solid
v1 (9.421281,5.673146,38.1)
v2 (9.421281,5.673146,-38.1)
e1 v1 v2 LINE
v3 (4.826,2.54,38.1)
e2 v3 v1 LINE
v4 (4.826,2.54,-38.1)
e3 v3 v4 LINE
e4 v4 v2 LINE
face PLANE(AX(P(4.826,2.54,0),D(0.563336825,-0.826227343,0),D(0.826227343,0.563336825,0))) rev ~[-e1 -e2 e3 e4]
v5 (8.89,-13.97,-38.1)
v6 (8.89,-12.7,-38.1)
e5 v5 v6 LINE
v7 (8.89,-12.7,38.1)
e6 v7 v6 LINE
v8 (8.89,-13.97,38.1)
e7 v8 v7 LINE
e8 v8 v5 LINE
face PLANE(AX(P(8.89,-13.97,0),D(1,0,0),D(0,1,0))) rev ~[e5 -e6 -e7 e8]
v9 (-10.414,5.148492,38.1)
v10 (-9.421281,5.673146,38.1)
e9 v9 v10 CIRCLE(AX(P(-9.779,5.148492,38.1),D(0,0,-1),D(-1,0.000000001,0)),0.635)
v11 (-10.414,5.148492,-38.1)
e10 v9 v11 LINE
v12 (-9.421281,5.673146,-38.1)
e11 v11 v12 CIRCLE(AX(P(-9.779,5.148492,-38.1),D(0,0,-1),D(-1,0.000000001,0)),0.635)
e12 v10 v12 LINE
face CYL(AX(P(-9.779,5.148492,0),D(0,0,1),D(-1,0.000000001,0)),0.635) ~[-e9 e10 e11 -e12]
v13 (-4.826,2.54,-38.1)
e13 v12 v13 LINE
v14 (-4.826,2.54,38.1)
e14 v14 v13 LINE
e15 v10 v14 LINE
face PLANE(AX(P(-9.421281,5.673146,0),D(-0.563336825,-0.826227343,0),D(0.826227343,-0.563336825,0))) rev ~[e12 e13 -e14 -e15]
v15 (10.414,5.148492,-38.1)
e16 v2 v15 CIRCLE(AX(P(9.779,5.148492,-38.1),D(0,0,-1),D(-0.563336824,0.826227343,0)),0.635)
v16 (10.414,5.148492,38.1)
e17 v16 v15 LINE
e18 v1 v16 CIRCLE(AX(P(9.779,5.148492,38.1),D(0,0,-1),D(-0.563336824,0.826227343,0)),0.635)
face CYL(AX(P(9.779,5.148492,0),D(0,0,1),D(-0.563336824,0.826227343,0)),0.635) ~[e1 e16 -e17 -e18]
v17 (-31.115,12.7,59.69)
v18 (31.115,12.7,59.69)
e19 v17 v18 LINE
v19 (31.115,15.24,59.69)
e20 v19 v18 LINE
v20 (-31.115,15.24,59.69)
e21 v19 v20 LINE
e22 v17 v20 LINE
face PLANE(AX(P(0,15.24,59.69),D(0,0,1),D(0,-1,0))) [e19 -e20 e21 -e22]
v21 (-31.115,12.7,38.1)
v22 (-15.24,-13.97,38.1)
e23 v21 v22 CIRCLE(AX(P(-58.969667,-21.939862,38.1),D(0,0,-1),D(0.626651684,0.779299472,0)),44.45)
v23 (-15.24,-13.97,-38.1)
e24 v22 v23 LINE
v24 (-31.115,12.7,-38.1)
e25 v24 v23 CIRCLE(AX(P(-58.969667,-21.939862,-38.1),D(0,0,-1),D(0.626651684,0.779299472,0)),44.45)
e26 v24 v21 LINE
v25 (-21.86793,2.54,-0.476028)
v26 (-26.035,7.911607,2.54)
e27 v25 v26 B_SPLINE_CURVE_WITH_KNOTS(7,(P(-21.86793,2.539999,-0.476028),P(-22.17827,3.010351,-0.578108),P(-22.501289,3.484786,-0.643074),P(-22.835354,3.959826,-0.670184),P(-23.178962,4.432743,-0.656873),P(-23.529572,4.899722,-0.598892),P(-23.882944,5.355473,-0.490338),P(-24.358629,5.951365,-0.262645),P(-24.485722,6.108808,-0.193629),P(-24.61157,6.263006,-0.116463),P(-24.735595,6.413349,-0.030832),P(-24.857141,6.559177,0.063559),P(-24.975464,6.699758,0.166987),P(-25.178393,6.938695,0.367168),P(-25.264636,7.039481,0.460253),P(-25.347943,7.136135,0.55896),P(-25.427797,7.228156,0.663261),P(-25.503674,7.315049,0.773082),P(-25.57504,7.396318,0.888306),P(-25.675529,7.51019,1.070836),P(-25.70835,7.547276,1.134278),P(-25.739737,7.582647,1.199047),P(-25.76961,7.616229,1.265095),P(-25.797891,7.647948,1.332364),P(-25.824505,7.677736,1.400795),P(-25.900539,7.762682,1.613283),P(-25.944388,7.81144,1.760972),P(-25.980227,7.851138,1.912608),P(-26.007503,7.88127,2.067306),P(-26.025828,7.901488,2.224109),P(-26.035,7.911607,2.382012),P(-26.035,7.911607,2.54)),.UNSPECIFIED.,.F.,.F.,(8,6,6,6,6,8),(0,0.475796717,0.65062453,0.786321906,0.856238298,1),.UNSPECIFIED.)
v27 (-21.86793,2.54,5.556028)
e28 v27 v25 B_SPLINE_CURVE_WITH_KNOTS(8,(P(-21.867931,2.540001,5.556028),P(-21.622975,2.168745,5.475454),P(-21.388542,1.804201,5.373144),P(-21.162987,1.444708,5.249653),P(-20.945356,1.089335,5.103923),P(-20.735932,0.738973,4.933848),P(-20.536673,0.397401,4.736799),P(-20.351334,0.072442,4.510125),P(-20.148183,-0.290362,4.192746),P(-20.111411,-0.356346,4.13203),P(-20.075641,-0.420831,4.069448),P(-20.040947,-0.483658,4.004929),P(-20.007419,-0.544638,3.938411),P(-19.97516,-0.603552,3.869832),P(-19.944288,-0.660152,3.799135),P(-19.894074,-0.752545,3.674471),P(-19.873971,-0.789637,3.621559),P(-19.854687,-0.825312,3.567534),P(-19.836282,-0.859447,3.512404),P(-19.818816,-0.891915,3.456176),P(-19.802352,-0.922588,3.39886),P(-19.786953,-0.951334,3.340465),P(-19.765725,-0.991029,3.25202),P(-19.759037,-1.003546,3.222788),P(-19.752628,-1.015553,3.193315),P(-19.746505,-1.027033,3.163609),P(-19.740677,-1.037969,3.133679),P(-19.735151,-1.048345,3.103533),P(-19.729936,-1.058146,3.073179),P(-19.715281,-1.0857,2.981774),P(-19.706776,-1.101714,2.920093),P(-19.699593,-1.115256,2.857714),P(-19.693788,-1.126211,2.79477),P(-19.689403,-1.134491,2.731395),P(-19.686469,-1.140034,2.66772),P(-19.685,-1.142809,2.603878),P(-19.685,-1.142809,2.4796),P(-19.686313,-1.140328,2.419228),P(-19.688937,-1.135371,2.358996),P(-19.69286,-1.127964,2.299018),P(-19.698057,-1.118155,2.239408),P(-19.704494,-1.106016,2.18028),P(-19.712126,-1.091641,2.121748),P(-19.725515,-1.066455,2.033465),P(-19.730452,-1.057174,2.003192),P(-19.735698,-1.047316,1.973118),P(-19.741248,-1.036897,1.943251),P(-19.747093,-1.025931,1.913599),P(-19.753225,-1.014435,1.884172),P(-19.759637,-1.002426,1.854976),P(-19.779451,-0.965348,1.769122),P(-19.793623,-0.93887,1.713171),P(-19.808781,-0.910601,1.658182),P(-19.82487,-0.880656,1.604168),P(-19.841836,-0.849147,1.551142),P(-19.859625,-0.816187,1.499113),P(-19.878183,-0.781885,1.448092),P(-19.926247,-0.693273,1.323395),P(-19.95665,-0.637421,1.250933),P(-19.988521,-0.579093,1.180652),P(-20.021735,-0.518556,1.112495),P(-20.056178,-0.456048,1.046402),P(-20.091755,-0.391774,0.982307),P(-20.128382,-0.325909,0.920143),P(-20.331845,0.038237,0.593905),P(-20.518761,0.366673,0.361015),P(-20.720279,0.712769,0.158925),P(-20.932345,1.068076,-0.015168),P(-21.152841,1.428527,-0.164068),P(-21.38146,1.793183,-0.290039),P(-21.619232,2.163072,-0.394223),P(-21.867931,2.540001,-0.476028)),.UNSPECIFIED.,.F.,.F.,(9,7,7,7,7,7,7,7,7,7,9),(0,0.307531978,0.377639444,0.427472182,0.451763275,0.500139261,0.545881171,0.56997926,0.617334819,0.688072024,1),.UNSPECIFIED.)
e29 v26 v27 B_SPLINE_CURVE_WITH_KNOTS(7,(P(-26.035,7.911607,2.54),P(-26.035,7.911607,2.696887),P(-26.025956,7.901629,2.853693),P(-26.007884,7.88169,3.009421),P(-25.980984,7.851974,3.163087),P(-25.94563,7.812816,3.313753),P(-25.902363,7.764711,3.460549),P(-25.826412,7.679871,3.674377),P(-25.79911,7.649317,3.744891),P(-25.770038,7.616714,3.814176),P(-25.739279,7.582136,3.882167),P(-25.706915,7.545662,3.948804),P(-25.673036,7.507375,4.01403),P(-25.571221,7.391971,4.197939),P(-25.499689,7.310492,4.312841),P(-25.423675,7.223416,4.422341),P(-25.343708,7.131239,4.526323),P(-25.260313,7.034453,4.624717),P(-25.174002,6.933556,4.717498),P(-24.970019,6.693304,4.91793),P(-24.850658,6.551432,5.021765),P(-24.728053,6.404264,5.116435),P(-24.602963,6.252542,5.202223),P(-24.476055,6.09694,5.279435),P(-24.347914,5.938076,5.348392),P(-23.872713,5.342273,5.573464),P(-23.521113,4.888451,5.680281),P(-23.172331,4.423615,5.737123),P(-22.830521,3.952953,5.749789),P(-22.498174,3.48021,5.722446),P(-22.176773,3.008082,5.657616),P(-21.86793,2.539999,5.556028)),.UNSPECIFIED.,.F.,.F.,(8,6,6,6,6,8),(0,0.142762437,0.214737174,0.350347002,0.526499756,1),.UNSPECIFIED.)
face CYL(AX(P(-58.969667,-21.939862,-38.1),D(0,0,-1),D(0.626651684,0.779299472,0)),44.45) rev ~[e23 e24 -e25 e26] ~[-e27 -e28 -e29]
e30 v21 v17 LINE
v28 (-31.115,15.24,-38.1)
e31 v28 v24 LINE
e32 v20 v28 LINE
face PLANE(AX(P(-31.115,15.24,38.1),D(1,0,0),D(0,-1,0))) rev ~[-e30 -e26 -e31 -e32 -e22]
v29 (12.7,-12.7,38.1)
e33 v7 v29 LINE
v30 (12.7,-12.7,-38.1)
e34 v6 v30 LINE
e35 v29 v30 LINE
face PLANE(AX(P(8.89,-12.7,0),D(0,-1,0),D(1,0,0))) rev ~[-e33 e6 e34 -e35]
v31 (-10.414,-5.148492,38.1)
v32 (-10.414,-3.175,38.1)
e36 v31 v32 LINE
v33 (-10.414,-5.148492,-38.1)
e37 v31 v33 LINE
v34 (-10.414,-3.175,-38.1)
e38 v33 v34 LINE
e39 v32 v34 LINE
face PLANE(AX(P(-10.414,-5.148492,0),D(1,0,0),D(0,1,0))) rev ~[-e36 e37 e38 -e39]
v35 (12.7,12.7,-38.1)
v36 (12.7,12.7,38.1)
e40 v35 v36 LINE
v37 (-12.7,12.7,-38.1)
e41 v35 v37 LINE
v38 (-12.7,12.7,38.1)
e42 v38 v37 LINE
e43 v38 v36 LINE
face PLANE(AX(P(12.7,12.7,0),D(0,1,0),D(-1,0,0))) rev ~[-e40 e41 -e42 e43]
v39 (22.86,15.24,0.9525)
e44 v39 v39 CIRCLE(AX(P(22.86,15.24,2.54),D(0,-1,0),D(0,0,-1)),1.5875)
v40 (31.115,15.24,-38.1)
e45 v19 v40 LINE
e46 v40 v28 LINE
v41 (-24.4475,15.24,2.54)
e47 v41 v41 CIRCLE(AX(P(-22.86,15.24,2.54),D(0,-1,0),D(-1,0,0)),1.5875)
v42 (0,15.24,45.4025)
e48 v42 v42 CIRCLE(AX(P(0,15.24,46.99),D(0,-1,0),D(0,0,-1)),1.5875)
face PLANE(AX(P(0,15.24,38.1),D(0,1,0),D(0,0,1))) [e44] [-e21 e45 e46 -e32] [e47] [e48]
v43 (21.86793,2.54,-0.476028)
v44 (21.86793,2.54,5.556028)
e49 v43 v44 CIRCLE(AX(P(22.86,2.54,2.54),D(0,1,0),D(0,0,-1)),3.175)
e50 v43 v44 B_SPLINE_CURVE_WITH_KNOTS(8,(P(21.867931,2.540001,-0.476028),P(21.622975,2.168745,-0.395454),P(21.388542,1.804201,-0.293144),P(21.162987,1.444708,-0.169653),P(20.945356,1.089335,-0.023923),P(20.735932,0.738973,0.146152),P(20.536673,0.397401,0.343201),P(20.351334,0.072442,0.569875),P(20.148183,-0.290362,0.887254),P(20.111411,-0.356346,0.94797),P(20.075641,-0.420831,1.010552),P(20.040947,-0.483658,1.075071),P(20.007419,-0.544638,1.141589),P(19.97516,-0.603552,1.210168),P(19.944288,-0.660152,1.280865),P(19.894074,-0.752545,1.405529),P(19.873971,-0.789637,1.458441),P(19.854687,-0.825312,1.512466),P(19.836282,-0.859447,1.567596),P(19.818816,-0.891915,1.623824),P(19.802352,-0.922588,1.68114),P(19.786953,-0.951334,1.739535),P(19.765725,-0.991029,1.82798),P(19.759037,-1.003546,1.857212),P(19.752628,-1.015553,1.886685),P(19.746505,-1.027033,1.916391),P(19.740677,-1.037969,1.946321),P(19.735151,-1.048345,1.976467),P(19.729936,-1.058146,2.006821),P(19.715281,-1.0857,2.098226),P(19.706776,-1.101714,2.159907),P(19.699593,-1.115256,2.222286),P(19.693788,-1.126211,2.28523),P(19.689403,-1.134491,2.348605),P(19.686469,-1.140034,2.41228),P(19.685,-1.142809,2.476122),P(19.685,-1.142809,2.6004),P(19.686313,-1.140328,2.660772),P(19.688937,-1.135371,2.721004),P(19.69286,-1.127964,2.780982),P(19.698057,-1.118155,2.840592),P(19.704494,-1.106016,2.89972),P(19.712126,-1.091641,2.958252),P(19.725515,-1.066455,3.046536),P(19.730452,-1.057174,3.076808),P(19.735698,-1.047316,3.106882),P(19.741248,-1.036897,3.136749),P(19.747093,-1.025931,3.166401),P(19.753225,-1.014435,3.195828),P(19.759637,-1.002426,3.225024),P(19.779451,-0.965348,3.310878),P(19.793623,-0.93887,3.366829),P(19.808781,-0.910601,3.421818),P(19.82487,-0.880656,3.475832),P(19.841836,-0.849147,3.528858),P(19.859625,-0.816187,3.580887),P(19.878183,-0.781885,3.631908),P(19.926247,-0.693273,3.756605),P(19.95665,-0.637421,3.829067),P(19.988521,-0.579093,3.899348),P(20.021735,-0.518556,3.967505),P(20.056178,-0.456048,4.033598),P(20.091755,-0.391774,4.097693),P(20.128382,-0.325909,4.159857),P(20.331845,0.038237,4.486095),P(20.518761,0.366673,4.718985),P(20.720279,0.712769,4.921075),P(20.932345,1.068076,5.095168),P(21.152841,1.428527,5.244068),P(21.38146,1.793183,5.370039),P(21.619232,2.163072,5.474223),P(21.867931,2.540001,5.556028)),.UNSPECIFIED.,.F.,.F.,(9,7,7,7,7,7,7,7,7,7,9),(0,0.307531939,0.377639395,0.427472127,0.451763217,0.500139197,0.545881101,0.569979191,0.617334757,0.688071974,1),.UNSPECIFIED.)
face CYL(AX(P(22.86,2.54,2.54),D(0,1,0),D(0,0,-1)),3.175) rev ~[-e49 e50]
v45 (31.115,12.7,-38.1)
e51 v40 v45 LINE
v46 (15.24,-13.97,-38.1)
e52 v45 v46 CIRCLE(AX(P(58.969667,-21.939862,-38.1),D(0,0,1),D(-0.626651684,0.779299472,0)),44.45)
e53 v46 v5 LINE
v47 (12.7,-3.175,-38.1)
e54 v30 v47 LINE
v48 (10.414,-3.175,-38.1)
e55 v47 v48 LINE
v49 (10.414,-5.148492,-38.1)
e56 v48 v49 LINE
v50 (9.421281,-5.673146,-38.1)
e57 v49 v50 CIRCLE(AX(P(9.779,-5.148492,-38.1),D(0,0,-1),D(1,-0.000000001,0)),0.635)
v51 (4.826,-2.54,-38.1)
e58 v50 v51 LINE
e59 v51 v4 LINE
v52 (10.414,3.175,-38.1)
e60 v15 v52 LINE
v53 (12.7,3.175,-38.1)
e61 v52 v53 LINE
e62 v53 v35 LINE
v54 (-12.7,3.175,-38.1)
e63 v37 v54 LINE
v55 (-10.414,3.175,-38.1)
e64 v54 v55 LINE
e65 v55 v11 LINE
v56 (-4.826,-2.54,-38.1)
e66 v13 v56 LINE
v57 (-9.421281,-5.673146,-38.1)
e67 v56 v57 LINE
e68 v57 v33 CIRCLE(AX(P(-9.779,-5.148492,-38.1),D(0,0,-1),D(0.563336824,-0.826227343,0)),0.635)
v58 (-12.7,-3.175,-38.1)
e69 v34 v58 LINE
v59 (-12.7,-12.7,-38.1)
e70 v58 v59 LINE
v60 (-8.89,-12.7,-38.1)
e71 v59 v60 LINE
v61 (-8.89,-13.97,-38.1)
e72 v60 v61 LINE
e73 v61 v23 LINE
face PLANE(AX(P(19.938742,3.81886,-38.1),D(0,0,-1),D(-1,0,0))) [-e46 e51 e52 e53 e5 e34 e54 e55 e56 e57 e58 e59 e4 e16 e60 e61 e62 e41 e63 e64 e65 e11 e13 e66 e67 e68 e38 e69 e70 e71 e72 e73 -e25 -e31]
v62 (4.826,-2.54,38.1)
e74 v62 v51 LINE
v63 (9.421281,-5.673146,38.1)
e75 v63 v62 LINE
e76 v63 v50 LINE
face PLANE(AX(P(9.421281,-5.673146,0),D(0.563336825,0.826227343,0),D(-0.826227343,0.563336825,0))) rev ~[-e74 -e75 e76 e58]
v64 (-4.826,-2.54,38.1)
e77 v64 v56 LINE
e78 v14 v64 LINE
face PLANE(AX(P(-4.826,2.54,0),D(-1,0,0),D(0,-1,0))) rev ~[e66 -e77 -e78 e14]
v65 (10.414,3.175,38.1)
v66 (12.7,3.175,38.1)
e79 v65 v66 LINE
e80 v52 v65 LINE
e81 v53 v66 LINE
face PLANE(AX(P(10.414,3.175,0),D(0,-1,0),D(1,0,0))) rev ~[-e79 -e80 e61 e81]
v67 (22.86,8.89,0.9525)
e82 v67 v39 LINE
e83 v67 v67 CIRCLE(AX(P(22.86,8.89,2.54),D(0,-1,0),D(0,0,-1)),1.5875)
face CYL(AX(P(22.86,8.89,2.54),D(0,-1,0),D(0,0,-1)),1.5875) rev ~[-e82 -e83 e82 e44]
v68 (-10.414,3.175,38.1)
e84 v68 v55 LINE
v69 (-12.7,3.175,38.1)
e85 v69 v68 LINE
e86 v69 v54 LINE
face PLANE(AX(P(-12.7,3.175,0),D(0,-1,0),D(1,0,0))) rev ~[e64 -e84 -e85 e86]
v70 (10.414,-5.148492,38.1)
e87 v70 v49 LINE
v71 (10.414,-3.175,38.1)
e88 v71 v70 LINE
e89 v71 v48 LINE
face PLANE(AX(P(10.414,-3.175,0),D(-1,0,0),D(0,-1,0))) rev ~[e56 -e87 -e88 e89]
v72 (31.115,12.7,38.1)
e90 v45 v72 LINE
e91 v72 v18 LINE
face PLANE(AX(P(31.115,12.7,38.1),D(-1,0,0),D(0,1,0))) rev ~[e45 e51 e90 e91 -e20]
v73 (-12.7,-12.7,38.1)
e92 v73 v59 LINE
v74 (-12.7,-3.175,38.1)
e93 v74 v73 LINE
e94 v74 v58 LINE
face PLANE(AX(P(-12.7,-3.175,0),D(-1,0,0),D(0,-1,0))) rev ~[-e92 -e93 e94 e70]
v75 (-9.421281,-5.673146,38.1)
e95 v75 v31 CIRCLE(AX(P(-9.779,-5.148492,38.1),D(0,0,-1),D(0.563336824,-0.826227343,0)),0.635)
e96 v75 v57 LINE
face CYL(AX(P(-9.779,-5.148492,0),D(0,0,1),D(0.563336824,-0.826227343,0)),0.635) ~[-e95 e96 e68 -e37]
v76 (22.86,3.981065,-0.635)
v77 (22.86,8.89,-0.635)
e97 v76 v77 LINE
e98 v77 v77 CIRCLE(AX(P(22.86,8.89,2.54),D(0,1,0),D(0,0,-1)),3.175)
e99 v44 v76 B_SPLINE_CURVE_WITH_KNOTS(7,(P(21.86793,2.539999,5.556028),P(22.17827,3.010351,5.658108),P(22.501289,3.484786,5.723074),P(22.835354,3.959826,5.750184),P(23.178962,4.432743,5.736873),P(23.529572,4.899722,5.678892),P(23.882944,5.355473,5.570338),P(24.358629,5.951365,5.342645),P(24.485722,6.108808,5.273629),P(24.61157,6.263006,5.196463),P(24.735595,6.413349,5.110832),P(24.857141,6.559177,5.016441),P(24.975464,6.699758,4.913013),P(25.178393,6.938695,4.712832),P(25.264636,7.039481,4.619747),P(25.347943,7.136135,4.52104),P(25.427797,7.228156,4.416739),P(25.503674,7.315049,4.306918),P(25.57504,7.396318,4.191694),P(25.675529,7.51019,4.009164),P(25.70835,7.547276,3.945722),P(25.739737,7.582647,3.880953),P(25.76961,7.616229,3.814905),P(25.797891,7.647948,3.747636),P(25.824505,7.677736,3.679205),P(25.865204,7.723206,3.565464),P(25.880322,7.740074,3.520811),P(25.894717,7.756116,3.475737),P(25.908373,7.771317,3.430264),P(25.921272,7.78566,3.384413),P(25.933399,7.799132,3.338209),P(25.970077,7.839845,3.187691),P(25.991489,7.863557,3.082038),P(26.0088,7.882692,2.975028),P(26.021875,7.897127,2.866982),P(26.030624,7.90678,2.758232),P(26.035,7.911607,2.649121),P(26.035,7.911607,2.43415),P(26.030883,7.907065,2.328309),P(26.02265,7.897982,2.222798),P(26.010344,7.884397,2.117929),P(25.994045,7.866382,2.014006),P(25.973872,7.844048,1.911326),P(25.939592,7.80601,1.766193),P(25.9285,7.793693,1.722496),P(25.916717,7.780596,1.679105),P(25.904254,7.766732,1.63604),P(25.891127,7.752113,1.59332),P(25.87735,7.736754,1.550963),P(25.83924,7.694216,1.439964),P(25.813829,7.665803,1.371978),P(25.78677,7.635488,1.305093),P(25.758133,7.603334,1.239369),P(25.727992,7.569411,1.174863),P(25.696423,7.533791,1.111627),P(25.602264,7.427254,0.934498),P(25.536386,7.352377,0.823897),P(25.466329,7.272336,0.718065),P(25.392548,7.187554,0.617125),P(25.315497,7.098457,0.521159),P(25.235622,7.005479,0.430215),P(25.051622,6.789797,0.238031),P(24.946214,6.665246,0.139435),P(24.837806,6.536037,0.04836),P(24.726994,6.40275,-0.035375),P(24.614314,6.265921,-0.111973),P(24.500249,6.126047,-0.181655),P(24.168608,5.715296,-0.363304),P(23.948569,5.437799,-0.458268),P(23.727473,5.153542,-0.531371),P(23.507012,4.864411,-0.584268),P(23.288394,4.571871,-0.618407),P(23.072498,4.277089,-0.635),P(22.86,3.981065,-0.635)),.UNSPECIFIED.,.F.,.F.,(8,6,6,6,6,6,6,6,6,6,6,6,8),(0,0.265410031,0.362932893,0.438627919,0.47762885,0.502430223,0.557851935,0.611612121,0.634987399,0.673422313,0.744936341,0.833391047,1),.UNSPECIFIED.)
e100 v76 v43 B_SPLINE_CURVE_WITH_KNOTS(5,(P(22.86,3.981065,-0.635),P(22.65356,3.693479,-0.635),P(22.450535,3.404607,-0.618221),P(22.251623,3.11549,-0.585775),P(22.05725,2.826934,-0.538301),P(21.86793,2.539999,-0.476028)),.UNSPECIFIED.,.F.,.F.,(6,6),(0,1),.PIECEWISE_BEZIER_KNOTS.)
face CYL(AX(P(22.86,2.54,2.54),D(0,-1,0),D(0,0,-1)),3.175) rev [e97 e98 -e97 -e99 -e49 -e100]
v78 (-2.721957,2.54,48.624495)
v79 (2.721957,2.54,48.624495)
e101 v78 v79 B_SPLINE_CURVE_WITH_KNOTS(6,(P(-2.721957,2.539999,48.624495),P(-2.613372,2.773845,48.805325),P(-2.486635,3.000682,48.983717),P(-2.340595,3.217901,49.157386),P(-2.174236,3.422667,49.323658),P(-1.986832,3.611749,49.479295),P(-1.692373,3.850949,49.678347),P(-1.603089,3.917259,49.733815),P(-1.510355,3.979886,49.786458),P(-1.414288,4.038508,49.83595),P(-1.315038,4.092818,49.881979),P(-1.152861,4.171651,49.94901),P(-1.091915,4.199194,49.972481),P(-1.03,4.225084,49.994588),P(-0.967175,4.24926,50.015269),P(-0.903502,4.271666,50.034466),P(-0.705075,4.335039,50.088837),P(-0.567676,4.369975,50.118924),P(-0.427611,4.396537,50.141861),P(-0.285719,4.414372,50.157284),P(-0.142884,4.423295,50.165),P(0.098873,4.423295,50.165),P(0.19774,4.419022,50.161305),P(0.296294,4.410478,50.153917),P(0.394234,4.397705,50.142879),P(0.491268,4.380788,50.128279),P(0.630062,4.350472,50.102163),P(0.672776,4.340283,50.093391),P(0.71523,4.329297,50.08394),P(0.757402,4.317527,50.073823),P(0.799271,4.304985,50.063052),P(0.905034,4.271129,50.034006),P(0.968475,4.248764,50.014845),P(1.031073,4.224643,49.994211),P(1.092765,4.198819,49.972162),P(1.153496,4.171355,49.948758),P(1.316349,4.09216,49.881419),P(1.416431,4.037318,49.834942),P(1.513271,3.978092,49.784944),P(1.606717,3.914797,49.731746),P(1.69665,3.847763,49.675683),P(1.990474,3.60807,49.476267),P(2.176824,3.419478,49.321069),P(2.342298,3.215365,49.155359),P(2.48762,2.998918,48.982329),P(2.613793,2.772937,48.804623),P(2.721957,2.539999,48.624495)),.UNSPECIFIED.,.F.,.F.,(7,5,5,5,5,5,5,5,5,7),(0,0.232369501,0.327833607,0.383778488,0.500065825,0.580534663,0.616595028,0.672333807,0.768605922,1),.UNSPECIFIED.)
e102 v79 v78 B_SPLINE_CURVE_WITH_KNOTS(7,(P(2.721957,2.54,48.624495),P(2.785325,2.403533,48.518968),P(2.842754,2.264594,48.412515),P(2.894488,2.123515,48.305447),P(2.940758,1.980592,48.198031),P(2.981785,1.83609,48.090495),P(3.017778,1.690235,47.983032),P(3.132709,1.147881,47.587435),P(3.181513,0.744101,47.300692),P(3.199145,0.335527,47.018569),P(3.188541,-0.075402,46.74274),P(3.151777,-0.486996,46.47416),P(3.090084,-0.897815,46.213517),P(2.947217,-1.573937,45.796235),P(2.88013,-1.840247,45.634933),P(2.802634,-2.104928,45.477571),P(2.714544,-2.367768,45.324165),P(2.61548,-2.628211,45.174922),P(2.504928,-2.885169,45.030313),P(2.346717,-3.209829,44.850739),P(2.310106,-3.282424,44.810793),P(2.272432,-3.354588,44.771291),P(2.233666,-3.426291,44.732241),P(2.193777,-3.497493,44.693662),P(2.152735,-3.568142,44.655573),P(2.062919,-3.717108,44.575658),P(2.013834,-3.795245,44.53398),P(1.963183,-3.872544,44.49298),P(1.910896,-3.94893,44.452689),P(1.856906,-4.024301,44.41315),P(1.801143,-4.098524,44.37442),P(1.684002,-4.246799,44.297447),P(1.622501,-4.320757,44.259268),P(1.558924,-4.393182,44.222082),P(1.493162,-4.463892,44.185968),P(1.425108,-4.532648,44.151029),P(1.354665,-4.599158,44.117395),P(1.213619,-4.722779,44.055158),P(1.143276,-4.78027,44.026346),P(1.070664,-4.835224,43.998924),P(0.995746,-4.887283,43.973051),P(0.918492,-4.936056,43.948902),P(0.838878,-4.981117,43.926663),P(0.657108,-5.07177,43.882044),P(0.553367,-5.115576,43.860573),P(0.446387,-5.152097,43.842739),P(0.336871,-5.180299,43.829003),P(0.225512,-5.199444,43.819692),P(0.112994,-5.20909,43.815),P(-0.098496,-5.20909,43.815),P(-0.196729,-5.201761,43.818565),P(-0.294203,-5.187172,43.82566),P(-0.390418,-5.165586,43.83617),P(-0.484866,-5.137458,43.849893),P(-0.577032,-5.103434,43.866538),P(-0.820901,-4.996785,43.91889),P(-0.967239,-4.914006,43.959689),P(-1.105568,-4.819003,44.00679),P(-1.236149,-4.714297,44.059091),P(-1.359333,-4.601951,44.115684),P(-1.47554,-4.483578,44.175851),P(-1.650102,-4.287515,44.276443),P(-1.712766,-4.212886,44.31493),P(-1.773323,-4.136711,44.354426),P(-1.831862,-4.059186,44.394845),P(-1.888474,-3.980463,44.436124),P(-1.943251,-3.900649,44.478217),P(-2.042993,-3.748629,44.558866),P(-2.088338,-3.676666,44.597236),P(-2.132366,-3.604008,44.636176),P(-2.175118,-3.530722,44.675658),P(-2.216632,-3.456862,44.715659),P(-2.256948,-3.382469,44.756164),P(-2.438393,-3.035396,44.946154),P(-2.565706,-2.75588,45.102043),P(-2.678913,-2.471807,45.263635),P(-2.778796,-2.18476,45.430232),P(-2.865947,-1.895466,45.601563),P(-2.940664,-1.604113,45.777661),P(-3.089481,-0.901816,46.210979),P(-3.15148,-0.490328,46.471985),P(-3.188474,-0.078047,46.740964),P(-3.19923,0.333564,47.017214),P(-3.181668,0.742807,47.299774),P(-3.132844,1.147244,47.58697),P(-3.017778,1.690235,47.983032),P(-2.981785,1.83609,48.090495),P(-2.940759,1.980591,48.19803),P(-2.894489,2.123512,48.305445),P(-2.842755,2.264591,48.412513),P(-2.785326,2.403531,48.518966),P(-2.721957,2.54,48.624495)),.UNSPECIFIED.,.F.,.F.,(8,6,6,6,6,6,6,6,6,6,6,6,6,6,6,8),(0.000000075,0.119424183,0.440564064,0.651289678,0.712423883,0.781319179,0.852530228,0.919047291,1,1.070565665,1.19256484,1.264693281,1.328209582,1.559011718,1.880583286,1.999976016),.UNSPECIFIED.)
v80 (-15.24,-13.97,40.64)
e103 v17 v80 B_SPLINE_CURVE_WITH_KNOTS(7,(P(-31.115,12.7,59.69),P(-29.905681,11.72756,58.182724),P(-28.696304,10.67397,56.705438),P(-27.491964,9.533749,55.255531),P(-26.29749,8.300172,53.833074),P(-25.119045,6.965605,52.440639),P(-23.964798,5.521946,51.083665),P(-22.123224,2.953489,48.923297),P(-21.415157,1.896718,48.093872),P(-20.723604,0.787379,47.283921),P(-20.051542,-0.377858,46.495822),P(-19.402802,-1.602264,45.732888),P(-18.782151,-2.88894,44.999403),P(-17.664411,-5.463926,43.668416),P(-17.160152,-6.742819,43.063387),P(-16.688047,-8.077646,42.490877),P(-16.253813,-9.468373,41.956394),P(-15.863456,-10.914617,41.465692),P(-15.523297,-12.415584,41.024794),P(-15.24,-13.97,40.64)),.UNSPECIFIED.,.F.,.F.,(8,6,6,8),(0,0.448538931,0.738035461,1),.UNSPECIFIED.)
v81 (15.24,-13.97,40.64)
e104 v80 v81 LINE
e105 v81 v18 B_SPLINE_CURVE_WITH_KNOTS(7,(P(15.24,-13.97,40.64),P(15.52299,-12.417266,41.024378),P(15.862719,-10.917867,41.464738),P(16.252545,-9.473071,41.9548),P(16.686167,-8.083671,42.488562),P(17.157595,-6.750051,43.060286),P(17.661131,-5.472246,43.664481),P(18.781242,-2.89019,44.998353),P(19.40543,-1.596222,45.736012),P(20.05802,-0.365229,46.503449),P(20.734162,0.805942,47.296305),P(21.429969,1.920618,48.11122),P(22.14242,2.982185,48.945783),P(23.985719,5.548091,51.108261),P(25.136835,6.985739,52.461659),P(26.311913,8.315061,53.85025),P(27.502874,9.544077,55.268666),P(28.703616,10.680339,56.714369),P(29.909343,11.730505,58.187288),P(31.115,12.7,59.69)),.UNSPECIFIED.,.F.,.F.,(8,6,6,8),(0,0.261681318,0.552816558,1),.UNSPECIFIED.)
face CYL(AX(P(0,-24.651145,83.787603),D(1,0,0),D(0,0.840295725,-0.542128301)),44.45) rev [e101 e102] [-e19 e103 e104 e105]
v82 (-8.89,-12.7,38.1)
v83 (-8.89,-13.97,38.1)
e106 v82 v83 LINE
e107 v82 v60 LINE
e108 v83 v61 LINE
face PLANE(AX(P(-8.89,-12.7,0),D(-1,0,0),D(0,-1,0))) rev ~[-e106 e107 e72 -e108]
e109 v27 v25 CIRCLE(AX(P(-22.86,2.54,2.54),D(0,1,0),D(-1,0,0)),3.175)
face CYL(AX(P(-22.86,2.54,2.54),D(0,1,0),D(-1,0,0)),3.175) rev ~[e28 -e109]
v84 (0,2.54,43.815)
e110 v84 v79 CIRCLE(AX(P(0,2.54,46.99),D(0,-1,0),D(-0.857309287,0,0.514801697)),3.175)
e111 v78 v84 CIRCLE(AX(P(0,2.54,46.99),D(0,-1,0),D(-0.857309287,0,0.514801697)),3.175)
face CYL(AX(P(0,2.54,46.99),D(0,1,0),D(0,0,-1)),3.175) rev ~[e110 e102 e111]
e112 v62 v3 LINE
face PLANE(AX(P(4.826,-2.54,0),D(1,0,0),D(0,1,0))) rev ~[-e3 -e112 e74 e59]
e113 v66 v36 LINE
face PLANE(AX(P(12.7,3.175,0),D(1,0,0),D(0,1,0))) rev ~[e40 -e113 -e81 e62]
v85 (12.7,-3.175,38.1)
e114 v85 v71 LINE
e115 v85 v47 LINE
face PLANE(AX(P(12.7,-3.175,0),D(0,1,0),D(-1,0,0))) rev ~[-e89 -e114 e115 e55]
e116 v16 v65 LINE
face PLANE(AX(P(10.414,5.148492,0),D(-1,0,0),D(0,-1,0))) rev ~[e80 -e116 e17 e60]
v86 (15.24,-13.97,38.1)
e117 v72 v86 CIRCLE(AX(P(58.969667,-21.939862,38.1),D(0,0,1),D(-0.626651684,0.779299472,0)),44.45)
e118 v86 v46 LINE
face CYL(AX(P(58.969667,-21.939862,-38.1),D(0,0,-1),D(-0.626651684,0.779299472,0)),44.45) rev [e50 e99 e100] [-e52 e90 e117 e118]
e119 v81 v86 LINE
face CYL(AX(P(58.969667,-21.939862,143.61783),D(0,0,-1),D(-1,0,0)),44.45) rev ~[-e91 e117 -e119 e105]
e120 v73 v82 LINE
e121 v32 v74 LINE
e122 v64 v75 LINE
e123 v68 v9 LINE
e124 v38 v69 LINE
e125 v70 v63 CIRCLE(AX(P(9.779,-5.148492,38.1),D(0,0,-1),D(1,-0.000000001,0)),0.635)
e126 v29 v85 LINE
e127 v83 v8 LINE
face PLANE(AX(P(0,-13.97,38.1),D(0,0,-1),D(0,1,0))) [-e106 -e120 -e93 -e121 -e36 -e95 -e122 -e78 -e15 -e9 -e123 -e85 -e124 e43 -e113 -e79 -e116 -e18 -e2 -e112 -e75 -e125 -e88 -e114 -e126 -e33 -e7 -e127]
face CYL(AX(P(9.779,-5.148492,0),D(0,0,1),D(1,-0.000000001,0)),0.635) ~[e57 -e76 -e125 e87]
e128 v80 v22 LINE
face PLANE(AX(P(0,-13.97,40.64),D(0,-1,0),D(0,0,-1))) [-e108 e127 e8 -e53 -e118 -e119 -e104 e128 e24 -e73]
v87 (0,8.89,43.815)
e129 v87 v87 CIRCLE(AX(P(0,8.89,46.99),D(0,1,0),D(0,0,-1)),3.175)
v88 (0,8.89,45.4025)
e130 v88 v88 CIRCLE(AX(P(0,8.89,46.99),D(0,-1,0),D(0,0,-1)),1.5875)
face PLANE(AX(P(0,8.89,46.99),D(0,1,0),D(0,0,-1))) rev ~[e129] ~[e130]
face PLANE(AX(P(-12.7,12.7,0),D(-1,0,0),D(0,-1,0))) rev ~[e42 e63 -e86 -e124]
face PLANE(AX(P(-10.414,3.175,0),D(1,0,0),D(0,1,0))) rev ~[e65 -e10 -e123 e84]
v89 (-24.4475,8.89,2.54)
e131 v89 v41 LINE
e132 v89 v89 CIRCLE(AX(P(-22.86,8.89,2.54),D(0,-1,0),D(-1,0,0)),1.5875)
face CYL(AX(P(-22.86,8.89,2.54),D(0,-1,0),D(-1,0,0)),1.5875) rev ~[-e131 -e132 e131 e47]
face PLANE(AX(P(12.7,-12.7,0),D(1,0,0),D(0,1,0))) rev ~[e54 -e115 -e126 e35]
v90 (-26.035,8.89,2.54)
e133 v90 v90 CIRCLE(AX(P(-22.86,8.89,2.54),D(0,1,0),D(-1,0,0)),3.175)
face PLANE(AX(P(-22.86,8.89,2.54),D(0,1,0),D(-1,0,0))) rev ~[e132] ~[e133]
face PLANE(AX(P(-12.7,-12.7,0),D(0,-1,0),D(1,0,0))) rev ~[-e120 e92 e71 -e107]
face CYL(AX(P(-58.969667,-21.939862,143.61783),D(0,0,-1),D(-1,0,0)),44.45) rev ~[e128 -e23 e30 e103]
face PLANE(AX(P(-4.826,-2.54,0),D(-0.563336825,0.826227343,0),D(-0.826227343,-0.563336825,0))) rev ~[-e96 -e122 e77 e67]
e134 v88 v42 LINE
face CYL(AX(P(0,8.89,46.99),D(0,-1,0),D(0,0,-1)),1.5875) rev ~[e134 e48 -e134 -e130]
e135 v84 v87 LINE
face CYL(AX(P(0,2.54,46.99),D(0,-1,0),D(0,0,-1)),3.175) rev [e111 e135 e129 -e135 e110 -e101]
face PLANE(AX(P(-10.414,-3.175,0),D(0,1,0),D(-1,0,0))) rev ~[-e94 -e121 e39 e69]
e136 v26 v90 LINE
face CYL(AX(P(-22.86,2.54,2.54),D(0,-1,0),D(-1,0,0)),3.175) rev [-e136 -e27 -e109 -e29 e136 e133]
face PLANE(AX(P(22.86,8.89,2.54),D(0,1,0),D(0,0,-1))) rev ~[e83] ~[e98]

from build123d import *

# Parameters (mm, degrees)
BOSS_EXTRUDE1_DEPTH                  = 38.1
BOSS_EXTRUDE3_DEPTH                  = 76.2
BOSS_EXTRUDE2_REACH                  = 53.498
BOSS_EXTRUDE2_END_RADIUS             = 44.45
BOSS_EXTRUDE2_DIRECTION_2_REACH      = 53.498
BOSS_EXTRUDE2_DIRECTION_2_END_RADIUS = 44.45
CUT_EXTRUDE3_DEPTH                   = 86.067352916
CUT_EXTRUDE1_REACH                   = 71.308
SKETCH4_R                            = 3.175
CUT_EXTRUDE1_DIRECTION_2_DEPTH       = 6.35
CUT_EXTRUDE2_REACH                   = 73.089
SKETCH5_R                            = 1.5875
LPATTERN1_COUNT                      = 2
LPATTERN1_PITCH                      = 44.45
LPATTERN1_COUNT_DIR2                 = 2
LPATTERN1_PITCH_DIR2                 = 22.86
MIRROR1_COPY_1_REACH                 = 71.308
MIRROR1_COPY_1_SKETCH_R              = 3.175
MIRROR1_COPY_2_SKETCH_R              = 3.175
MIRROR1_COPY_2_DEPTH                 = 6.35
MIRROR1_COPY_3_REACH                 = 73.089
MIRROR1_COPY_3_SKETCH_R              = 1.5875


with BuildPart() as part:
    # Sketch1 → Boss-Extrude1 (new, symmetric)
    with BuildSketch(Plane.XY):
        with BuildLine():
            Line((12.7, 12.7), (-12.7, 12.7))
            Line((-12.7, 12.7), (-12.7, 3.175))
            Line((-12.7, 3.175), (-10.414, 3.175))
            Line((-10.414, 3.175), (-10.414, 5.148491853))
            ThreePointArc((-10.414, 5.148491853), (-10.075709883, 5.709908138), (-9.421281116, 5.673146216))
            Line((-9.421281116, 5.673146216), (-4.826, 2.54))
            Line((-4.826, 2.54), (-4.826, -2.54))
            Line((-4.826, -2.54), (-9.421281116, -5.673146216))
            ThreePointArc((-9.421281116, -5.673146216), (-10.075709883, -5.709908138), (-10.414, -5.148491853))
            Line((-10.414, -5.148491853), (-10.414, -3.175))
            Line((-10.414, -3.175), (-12.7, -3.175))
            Line((-12.7, -3.175), (-12.7, -12.7))
            Line((-12.7, -12.7), (-8.89, -12.7))
            Line((-8.89, -12.7), (-8.89, -13.97))
            Line((-8.89, -13.97), (-15.24, -13.97))
            Line((-15.24, -13.97), (-15.24, 15.24))
            Line((-15.24, 15.24), (15.24, 15.24))
            Line((15.24, 15.24), (15.24, -13.97))
            Line((15.24, -13.97), (8.89, -13.97))
            Line((8.89, -13.97), (8.89, -12.7))
            Line((8.89, -12.7), (12.7, -12.7))
            Line((12.7, -12.7), (12.7, -3.175))
            Line((12.7, -3.175), (10.414, -3.175))
            Line((10.414, -3.175), (10.414, -5.148491853))
            ThreePointArc((10.414, -5.148491853), (10.075709883, -5.709908138), (9.421281116, -5.673146216))
            Line((9.421281116, -5.673146216), (4.826, -2.54))
            Line((4.826, -2.54), (4.826, 2.54))
            Line((4.826, 2.54), (9.421281116, 5.673146216))
            ThreePointArc((9.421281116, 5.673146216), (10.075709883, 5.709908138), (10.414, 5.148491853))
            Line((10.414, 5.148491853), (10.414, 3.175))
            Line((10.414, 3.175), (12.7, 3.175))
            Line((12.7, 3.175), (12.7, 12.7))
        make_face()
    extrude(amount=BOSS_EXTRUDE1_DEPTH, both=True)

    # Sketch6 → Boss-Extrude3 (add)
    with BuildSketch(Plane(origin=(0, 0, -38.1), x_dir=(-1, 0, 0), z_dir=(0, 0, -1))):
        with BuildLine():
            Line((-15.24, 15.24), (-31.115, 15.24))
            Line((-31.115, 15.24), (-31.115, 12.7))
            ThreePointArc((-31.115, 12.7), (-20.774098647, 0.795596044), (-15.24, -13.97))
            Line((-15.24, -13.97), (-15.24, 15.24))
        make_face()
        with BuildLine():
            Line((15.24, 15.24), (31.115, 15.24))
            Line((31.115, 15.24), (31.115, 12.7))
            ThreePointArc((31.115, 12.7), (20.774098647, 0.795596044), (15.24, -13.97))
            Line((15.24, -13.97), (15.24, 15.24))
        make_face()
    extrude(amount=-BOSS_EXTRUDE3_DEPTH)

    # Boss-Extrude2: up to this cylinder (the profile starts outside it)
    boss_extrude2_end = Plane(origin=(58.969667359, -21.939861523, 45.16983), z_dir=(0, 0, -1)) * Cylinder(BOSS_EXTRUDE2_END_RADIUS, 196.896, mode=Mode.PRIVATE)
    # Sketch3 → Boss-Extrude2 (add, up to the surface)
    with BuildSketch(Plane(origin=(0, 0, 0), x_dir=(0, 0, -1), z_dir=(1, 0, 0)), mode=Mode.PRIVATE) as boss_extrude2_sk1:
        with BuildLine():
            Line((-59.69, 15.24), (-59.69, 12.7))
            ThreePointArc((-59.69, 12.7), (-47.617150174, 1.184892733), (-40.64, -13.97))
            Line((-40.64, -13.97), (-38.1, -13.97))
            Line((-38.1, -13.97), (-38.1, 15.24))
            Line((-38.1, 15.24), (-59.69, 15.24))
        make_face()
    boss_extrude2_tool1 = extrude(boss_extrude2_sk1.sketch, amount=BOSS_EXTRUDE2_REACH, mode=Mode.PRIVATE) - boss_extrude2_end
    add(boss_extrude2_tool1.solids().sort_by_distance((0, 5.474065, 45.16983))[0])

    # Boss-Extrude2 direction 2: up to this cylinder (the profile starts outside it)
    boss_extrude2_direction_2_end = Plane(origin=(-58.969667359, -21.939861523, 45.16983), z_dir=(0, 0, -1)) * Cylinder(BOSS_EXTRUDE2_DIRECTION_2_END_RADIUS, 196.896, mode=Mode.PRIVATE)
    # Sketch3 → Boss-Extrude2 direction 2 (add, up to the surface)
    with BuildSketch(Plane(origin=(0, 0, 0), x_dir=(0, 0, -1), z_dir=(1, 0, 0)), mode=Mode.PRIVATE) as boss_extrude2_direction_2_sk1:
        with BuildLine():
            Line((-59.69, 15.24), (-59.69, 12.7))
            ThreePointArc((-59.69, 12.7), (-47.617150174, 1.184892733), (-40.64, -13.97))
            Line((-40.64, -13.97), (-38.1, -13.97))
            Line((-38.1, -13.97), (-38.1, 15.24))
            Line((-38.1, 15.24), (-59.69, 15.24))
        make_face()
    boss_extrude2_direction_2_tool1 = extrude(boss_extrude2_direction_2_sk1.sketch, amount=-BOSS_EXTRUDE2_DIRECTION_2_REACH, mode=Mode.PRIVATE) - boss_extrude2_direction_2_end
    add(boss_extrude2_direction_2_tool1.solids().sort_by_distance((0, 5.474065, 45.16983))[0])

    # Sketch7 → Cut-Extrude3 (cut, through all)
    with BuildSketch(Plane(origin=(0, 0, 38.1), x_dir=(-1, 0, 0), z_dir=(0, 0, -1))):
        with BuildLine():
            Line((34.608624747, 15.24), (31.115, 15.24))
            Line((31.115, 15.24), (31.115, 12.7))
            ThreePointArc((31.115, 12.7), (32.830941454, 14.012461185), (34.608624747, 15.24))
        make_face()
        with BuildLine():
            Line((-31.115, 12.7), (-31.115, 15.24))
            Line((-31.115, 15.24), (-34.608624747, 15.24))
            ThreePointArc((-34.608624747, 15.24), (-32.830941454, 14.012461185), (-31.115, 12.7))
        make_face()
    extrude(amount=-CUT_EXTRUDE3_DEPTH, mode=Mode.SUBTRACT)

    # Sketch4 → Cut-Extrude1 (cut, up to next)
    with BuildSketch(Plane(origin=(0, 2.54, 0), x_dir=(1, 0, 0), z_dir=(0, 1, 0)), mode=Mode.PRIVATE) as cut_extrude1_sk1:
        with Locations(Location((0, -46.99, 0), (0, 0, 90))):
            Circle(SKETCH4_R)
    cut_extrude1_tool1 = extrude(cut_extrude1_sk1.sketch, amount=-CUT_EXTRUDE1_REACH, mode=Mode.PRIVATE) & part.part
    cut_extrude1 = cut_extrude1_tool1.solids().sort_by_distance((0, 2.54, 46.99))[0]
    add(cut_extrude1, mode=Mode.SUBTRACT)

    # Sketch4 → Cut-Extrude1 direction 2 (cut)
    with BuildSketch(Plane(origin=(0, 2.54, 0), x_dir=(1, 0, 0), z_dir=(0, 1, 0))):
        with Locations(Location((0, -46.99, 0), (0, 0, 90))):
            Circle(SKETCH4_R)
    cut_extrude1_direction_2 = extrude(amount=CUT_EXTRUDE1_DIRECTION_2_DEPTH, mode=Mode.SUBTRACT)

    # Sketch5 → Cut-Extrude2 (cut, up to next)
    with BuildSketch(Plane.XZ.offset(-8.89), mode=Mode.PRIVATE) as cut_extrude2_sk1:
        with Locations(Location((0, 46.99, 0), (0, 0, 270))):
            Circle(SKETCH5_R)
    cut_extrude2_tool1 = extrude(cut_extrude2_sk1.sketch, amount=-CUT_EXTRUDE2_REACH, mode=Mode.PRIVATE) & part.part
    cut_extrude2 = cut_extrude2_tool1.solids().sort_by_distance((0, 8.89, 46.99))[0]
    add(cut_extrude2, mode=Mode.SUBTRACT)

    # LPattern1: Cut-Extrude1, Cut-Extrude1 direction 2, Cut-Extrude2; each copy of Cut-Extrude1, Cut-Extrude2 runs up to whatever stops it at its own place
    lpattern1_before = part.part  # the part as the pattern finds it: every copy runs up to it
    lpattern1_cut_extrude1_long = extrude(cut_extrude1_sk1.sketch, amount=-CUT_EXTRUDE1_REACH, mode=Mode.PRIVATE)
    lpattern1_cut_extrude1_tool1 = lpattern1_cut_extrude1_long.moved(Location(Vector(0, 0, -1) * (1 * LPATTERN1_PITCH) + Vector(1, 0, 0) * (1 * LPATTERN1_PITCH_DIR2))) & lpattern1_before
    add(lpattern1_cut_extrude1_tool1.solids().sort_by_distance((22.86, 2.54, 2.54))[0], mode=Mode.SUBTRACT)
    add(cut_extrude1_direction_2.moved(Location(Vector(0, 0, -1) * (1 * LPATTERN1_PITCH) + Vector(1, 0, 0) * (1 * LPATTERN1_PITCH_DIR2))), mode=Mode.SUBTRACT)
    lpattern1_cut_extrude2_long = extrude(cut_extrude2_sk1.sketch, amount=-CUT_EXTRUDE2_REACH, mode=Mode.PRIVATE)
    lpattern1_cut_extrude2_tool1 = lpattern1_cut_extrude2_long.moved(Location(Vector(0, 0, -1) * (1 * LPATTERN1_PITCH) + Vector(1, 0, 0) * (1 * LPATTERN1_PITCH_DIR2))) & lpattern1_before
    add(lpattern1_cut_extrude2_tool1.solids().sort_by_distance((22.86, 8.89, 2.54))[0], mode=Mode.SUBTRACT)

    # Mirror1 copy 1 sketch → Mirror1 copy 1 (cut, up to next)
    with BuildSketch(Plane(origin=(-22.86, 2.54, -44.45), x_dir=(-1, 0, 0), z_dir=(0, 1, 0)), mode=Mode.PRIVATE) as mirror1_copy_1_sk1:
        with Locations((0, 46.99)):
            Circle(MIRROR1_COPY_1_SKETCH_R)
    mirror1_copy_1_tool1 = extrude(mirror1_copy_1_sk1.sketch, amount=-MIRROR1_COPY_1_REACH, mode=Mode.PRIVATE) & part.part
    add(mirror1_copy_1_tool1.solids().sort_by_distance((-22.86, 2.54, 2.54))[0], mode=Mode.SUBTRACT)

    # Mirror1 copy 2 sketch → Mirror1 copy 2 (cut)
    with BuildSketch(Plane(origin=(-22.86, 2.54, -44.45), x_dir=(-1, 0, 0), z_dir=(0, 1, 0))):
        with Locations((0, 46.99)):
            Circle(MIRROR1_COPY_2_SKETCH_R)
    extrude(amount=MIRROR1_COPY_2_DEPTH, mode=Mode.SUBTRACT)

    # Mirror1 copy 3 sketch → Mirror1 copy 3 (cut, up to next)
    with BuildSketch(Plane(origin=(-22.86, 8.89, -44.45), x_dir=(-1, 0, 0), z_dir=(0, -1, 0)), mode=Mode.PRIVATE) as mirror1_copy_3_sk1:
        with Locations((0, -46.99)):
            Circle(MIRROR1_COPY_3_SKETCH_R)
    mirror1_copy_3_tool1 = extrude(mirror1_copy_3_sk1.sketch, amount=-MIRROR1_COPY_3_REACH, mode=Mode.PRIVATE) & part.part
    add(mirror1_copy_3_tool1.solids().sort_by_distance((-22.86, 8.89, 2.54))[0], mode=Mode.SUBTRACT)


solid = part.part
